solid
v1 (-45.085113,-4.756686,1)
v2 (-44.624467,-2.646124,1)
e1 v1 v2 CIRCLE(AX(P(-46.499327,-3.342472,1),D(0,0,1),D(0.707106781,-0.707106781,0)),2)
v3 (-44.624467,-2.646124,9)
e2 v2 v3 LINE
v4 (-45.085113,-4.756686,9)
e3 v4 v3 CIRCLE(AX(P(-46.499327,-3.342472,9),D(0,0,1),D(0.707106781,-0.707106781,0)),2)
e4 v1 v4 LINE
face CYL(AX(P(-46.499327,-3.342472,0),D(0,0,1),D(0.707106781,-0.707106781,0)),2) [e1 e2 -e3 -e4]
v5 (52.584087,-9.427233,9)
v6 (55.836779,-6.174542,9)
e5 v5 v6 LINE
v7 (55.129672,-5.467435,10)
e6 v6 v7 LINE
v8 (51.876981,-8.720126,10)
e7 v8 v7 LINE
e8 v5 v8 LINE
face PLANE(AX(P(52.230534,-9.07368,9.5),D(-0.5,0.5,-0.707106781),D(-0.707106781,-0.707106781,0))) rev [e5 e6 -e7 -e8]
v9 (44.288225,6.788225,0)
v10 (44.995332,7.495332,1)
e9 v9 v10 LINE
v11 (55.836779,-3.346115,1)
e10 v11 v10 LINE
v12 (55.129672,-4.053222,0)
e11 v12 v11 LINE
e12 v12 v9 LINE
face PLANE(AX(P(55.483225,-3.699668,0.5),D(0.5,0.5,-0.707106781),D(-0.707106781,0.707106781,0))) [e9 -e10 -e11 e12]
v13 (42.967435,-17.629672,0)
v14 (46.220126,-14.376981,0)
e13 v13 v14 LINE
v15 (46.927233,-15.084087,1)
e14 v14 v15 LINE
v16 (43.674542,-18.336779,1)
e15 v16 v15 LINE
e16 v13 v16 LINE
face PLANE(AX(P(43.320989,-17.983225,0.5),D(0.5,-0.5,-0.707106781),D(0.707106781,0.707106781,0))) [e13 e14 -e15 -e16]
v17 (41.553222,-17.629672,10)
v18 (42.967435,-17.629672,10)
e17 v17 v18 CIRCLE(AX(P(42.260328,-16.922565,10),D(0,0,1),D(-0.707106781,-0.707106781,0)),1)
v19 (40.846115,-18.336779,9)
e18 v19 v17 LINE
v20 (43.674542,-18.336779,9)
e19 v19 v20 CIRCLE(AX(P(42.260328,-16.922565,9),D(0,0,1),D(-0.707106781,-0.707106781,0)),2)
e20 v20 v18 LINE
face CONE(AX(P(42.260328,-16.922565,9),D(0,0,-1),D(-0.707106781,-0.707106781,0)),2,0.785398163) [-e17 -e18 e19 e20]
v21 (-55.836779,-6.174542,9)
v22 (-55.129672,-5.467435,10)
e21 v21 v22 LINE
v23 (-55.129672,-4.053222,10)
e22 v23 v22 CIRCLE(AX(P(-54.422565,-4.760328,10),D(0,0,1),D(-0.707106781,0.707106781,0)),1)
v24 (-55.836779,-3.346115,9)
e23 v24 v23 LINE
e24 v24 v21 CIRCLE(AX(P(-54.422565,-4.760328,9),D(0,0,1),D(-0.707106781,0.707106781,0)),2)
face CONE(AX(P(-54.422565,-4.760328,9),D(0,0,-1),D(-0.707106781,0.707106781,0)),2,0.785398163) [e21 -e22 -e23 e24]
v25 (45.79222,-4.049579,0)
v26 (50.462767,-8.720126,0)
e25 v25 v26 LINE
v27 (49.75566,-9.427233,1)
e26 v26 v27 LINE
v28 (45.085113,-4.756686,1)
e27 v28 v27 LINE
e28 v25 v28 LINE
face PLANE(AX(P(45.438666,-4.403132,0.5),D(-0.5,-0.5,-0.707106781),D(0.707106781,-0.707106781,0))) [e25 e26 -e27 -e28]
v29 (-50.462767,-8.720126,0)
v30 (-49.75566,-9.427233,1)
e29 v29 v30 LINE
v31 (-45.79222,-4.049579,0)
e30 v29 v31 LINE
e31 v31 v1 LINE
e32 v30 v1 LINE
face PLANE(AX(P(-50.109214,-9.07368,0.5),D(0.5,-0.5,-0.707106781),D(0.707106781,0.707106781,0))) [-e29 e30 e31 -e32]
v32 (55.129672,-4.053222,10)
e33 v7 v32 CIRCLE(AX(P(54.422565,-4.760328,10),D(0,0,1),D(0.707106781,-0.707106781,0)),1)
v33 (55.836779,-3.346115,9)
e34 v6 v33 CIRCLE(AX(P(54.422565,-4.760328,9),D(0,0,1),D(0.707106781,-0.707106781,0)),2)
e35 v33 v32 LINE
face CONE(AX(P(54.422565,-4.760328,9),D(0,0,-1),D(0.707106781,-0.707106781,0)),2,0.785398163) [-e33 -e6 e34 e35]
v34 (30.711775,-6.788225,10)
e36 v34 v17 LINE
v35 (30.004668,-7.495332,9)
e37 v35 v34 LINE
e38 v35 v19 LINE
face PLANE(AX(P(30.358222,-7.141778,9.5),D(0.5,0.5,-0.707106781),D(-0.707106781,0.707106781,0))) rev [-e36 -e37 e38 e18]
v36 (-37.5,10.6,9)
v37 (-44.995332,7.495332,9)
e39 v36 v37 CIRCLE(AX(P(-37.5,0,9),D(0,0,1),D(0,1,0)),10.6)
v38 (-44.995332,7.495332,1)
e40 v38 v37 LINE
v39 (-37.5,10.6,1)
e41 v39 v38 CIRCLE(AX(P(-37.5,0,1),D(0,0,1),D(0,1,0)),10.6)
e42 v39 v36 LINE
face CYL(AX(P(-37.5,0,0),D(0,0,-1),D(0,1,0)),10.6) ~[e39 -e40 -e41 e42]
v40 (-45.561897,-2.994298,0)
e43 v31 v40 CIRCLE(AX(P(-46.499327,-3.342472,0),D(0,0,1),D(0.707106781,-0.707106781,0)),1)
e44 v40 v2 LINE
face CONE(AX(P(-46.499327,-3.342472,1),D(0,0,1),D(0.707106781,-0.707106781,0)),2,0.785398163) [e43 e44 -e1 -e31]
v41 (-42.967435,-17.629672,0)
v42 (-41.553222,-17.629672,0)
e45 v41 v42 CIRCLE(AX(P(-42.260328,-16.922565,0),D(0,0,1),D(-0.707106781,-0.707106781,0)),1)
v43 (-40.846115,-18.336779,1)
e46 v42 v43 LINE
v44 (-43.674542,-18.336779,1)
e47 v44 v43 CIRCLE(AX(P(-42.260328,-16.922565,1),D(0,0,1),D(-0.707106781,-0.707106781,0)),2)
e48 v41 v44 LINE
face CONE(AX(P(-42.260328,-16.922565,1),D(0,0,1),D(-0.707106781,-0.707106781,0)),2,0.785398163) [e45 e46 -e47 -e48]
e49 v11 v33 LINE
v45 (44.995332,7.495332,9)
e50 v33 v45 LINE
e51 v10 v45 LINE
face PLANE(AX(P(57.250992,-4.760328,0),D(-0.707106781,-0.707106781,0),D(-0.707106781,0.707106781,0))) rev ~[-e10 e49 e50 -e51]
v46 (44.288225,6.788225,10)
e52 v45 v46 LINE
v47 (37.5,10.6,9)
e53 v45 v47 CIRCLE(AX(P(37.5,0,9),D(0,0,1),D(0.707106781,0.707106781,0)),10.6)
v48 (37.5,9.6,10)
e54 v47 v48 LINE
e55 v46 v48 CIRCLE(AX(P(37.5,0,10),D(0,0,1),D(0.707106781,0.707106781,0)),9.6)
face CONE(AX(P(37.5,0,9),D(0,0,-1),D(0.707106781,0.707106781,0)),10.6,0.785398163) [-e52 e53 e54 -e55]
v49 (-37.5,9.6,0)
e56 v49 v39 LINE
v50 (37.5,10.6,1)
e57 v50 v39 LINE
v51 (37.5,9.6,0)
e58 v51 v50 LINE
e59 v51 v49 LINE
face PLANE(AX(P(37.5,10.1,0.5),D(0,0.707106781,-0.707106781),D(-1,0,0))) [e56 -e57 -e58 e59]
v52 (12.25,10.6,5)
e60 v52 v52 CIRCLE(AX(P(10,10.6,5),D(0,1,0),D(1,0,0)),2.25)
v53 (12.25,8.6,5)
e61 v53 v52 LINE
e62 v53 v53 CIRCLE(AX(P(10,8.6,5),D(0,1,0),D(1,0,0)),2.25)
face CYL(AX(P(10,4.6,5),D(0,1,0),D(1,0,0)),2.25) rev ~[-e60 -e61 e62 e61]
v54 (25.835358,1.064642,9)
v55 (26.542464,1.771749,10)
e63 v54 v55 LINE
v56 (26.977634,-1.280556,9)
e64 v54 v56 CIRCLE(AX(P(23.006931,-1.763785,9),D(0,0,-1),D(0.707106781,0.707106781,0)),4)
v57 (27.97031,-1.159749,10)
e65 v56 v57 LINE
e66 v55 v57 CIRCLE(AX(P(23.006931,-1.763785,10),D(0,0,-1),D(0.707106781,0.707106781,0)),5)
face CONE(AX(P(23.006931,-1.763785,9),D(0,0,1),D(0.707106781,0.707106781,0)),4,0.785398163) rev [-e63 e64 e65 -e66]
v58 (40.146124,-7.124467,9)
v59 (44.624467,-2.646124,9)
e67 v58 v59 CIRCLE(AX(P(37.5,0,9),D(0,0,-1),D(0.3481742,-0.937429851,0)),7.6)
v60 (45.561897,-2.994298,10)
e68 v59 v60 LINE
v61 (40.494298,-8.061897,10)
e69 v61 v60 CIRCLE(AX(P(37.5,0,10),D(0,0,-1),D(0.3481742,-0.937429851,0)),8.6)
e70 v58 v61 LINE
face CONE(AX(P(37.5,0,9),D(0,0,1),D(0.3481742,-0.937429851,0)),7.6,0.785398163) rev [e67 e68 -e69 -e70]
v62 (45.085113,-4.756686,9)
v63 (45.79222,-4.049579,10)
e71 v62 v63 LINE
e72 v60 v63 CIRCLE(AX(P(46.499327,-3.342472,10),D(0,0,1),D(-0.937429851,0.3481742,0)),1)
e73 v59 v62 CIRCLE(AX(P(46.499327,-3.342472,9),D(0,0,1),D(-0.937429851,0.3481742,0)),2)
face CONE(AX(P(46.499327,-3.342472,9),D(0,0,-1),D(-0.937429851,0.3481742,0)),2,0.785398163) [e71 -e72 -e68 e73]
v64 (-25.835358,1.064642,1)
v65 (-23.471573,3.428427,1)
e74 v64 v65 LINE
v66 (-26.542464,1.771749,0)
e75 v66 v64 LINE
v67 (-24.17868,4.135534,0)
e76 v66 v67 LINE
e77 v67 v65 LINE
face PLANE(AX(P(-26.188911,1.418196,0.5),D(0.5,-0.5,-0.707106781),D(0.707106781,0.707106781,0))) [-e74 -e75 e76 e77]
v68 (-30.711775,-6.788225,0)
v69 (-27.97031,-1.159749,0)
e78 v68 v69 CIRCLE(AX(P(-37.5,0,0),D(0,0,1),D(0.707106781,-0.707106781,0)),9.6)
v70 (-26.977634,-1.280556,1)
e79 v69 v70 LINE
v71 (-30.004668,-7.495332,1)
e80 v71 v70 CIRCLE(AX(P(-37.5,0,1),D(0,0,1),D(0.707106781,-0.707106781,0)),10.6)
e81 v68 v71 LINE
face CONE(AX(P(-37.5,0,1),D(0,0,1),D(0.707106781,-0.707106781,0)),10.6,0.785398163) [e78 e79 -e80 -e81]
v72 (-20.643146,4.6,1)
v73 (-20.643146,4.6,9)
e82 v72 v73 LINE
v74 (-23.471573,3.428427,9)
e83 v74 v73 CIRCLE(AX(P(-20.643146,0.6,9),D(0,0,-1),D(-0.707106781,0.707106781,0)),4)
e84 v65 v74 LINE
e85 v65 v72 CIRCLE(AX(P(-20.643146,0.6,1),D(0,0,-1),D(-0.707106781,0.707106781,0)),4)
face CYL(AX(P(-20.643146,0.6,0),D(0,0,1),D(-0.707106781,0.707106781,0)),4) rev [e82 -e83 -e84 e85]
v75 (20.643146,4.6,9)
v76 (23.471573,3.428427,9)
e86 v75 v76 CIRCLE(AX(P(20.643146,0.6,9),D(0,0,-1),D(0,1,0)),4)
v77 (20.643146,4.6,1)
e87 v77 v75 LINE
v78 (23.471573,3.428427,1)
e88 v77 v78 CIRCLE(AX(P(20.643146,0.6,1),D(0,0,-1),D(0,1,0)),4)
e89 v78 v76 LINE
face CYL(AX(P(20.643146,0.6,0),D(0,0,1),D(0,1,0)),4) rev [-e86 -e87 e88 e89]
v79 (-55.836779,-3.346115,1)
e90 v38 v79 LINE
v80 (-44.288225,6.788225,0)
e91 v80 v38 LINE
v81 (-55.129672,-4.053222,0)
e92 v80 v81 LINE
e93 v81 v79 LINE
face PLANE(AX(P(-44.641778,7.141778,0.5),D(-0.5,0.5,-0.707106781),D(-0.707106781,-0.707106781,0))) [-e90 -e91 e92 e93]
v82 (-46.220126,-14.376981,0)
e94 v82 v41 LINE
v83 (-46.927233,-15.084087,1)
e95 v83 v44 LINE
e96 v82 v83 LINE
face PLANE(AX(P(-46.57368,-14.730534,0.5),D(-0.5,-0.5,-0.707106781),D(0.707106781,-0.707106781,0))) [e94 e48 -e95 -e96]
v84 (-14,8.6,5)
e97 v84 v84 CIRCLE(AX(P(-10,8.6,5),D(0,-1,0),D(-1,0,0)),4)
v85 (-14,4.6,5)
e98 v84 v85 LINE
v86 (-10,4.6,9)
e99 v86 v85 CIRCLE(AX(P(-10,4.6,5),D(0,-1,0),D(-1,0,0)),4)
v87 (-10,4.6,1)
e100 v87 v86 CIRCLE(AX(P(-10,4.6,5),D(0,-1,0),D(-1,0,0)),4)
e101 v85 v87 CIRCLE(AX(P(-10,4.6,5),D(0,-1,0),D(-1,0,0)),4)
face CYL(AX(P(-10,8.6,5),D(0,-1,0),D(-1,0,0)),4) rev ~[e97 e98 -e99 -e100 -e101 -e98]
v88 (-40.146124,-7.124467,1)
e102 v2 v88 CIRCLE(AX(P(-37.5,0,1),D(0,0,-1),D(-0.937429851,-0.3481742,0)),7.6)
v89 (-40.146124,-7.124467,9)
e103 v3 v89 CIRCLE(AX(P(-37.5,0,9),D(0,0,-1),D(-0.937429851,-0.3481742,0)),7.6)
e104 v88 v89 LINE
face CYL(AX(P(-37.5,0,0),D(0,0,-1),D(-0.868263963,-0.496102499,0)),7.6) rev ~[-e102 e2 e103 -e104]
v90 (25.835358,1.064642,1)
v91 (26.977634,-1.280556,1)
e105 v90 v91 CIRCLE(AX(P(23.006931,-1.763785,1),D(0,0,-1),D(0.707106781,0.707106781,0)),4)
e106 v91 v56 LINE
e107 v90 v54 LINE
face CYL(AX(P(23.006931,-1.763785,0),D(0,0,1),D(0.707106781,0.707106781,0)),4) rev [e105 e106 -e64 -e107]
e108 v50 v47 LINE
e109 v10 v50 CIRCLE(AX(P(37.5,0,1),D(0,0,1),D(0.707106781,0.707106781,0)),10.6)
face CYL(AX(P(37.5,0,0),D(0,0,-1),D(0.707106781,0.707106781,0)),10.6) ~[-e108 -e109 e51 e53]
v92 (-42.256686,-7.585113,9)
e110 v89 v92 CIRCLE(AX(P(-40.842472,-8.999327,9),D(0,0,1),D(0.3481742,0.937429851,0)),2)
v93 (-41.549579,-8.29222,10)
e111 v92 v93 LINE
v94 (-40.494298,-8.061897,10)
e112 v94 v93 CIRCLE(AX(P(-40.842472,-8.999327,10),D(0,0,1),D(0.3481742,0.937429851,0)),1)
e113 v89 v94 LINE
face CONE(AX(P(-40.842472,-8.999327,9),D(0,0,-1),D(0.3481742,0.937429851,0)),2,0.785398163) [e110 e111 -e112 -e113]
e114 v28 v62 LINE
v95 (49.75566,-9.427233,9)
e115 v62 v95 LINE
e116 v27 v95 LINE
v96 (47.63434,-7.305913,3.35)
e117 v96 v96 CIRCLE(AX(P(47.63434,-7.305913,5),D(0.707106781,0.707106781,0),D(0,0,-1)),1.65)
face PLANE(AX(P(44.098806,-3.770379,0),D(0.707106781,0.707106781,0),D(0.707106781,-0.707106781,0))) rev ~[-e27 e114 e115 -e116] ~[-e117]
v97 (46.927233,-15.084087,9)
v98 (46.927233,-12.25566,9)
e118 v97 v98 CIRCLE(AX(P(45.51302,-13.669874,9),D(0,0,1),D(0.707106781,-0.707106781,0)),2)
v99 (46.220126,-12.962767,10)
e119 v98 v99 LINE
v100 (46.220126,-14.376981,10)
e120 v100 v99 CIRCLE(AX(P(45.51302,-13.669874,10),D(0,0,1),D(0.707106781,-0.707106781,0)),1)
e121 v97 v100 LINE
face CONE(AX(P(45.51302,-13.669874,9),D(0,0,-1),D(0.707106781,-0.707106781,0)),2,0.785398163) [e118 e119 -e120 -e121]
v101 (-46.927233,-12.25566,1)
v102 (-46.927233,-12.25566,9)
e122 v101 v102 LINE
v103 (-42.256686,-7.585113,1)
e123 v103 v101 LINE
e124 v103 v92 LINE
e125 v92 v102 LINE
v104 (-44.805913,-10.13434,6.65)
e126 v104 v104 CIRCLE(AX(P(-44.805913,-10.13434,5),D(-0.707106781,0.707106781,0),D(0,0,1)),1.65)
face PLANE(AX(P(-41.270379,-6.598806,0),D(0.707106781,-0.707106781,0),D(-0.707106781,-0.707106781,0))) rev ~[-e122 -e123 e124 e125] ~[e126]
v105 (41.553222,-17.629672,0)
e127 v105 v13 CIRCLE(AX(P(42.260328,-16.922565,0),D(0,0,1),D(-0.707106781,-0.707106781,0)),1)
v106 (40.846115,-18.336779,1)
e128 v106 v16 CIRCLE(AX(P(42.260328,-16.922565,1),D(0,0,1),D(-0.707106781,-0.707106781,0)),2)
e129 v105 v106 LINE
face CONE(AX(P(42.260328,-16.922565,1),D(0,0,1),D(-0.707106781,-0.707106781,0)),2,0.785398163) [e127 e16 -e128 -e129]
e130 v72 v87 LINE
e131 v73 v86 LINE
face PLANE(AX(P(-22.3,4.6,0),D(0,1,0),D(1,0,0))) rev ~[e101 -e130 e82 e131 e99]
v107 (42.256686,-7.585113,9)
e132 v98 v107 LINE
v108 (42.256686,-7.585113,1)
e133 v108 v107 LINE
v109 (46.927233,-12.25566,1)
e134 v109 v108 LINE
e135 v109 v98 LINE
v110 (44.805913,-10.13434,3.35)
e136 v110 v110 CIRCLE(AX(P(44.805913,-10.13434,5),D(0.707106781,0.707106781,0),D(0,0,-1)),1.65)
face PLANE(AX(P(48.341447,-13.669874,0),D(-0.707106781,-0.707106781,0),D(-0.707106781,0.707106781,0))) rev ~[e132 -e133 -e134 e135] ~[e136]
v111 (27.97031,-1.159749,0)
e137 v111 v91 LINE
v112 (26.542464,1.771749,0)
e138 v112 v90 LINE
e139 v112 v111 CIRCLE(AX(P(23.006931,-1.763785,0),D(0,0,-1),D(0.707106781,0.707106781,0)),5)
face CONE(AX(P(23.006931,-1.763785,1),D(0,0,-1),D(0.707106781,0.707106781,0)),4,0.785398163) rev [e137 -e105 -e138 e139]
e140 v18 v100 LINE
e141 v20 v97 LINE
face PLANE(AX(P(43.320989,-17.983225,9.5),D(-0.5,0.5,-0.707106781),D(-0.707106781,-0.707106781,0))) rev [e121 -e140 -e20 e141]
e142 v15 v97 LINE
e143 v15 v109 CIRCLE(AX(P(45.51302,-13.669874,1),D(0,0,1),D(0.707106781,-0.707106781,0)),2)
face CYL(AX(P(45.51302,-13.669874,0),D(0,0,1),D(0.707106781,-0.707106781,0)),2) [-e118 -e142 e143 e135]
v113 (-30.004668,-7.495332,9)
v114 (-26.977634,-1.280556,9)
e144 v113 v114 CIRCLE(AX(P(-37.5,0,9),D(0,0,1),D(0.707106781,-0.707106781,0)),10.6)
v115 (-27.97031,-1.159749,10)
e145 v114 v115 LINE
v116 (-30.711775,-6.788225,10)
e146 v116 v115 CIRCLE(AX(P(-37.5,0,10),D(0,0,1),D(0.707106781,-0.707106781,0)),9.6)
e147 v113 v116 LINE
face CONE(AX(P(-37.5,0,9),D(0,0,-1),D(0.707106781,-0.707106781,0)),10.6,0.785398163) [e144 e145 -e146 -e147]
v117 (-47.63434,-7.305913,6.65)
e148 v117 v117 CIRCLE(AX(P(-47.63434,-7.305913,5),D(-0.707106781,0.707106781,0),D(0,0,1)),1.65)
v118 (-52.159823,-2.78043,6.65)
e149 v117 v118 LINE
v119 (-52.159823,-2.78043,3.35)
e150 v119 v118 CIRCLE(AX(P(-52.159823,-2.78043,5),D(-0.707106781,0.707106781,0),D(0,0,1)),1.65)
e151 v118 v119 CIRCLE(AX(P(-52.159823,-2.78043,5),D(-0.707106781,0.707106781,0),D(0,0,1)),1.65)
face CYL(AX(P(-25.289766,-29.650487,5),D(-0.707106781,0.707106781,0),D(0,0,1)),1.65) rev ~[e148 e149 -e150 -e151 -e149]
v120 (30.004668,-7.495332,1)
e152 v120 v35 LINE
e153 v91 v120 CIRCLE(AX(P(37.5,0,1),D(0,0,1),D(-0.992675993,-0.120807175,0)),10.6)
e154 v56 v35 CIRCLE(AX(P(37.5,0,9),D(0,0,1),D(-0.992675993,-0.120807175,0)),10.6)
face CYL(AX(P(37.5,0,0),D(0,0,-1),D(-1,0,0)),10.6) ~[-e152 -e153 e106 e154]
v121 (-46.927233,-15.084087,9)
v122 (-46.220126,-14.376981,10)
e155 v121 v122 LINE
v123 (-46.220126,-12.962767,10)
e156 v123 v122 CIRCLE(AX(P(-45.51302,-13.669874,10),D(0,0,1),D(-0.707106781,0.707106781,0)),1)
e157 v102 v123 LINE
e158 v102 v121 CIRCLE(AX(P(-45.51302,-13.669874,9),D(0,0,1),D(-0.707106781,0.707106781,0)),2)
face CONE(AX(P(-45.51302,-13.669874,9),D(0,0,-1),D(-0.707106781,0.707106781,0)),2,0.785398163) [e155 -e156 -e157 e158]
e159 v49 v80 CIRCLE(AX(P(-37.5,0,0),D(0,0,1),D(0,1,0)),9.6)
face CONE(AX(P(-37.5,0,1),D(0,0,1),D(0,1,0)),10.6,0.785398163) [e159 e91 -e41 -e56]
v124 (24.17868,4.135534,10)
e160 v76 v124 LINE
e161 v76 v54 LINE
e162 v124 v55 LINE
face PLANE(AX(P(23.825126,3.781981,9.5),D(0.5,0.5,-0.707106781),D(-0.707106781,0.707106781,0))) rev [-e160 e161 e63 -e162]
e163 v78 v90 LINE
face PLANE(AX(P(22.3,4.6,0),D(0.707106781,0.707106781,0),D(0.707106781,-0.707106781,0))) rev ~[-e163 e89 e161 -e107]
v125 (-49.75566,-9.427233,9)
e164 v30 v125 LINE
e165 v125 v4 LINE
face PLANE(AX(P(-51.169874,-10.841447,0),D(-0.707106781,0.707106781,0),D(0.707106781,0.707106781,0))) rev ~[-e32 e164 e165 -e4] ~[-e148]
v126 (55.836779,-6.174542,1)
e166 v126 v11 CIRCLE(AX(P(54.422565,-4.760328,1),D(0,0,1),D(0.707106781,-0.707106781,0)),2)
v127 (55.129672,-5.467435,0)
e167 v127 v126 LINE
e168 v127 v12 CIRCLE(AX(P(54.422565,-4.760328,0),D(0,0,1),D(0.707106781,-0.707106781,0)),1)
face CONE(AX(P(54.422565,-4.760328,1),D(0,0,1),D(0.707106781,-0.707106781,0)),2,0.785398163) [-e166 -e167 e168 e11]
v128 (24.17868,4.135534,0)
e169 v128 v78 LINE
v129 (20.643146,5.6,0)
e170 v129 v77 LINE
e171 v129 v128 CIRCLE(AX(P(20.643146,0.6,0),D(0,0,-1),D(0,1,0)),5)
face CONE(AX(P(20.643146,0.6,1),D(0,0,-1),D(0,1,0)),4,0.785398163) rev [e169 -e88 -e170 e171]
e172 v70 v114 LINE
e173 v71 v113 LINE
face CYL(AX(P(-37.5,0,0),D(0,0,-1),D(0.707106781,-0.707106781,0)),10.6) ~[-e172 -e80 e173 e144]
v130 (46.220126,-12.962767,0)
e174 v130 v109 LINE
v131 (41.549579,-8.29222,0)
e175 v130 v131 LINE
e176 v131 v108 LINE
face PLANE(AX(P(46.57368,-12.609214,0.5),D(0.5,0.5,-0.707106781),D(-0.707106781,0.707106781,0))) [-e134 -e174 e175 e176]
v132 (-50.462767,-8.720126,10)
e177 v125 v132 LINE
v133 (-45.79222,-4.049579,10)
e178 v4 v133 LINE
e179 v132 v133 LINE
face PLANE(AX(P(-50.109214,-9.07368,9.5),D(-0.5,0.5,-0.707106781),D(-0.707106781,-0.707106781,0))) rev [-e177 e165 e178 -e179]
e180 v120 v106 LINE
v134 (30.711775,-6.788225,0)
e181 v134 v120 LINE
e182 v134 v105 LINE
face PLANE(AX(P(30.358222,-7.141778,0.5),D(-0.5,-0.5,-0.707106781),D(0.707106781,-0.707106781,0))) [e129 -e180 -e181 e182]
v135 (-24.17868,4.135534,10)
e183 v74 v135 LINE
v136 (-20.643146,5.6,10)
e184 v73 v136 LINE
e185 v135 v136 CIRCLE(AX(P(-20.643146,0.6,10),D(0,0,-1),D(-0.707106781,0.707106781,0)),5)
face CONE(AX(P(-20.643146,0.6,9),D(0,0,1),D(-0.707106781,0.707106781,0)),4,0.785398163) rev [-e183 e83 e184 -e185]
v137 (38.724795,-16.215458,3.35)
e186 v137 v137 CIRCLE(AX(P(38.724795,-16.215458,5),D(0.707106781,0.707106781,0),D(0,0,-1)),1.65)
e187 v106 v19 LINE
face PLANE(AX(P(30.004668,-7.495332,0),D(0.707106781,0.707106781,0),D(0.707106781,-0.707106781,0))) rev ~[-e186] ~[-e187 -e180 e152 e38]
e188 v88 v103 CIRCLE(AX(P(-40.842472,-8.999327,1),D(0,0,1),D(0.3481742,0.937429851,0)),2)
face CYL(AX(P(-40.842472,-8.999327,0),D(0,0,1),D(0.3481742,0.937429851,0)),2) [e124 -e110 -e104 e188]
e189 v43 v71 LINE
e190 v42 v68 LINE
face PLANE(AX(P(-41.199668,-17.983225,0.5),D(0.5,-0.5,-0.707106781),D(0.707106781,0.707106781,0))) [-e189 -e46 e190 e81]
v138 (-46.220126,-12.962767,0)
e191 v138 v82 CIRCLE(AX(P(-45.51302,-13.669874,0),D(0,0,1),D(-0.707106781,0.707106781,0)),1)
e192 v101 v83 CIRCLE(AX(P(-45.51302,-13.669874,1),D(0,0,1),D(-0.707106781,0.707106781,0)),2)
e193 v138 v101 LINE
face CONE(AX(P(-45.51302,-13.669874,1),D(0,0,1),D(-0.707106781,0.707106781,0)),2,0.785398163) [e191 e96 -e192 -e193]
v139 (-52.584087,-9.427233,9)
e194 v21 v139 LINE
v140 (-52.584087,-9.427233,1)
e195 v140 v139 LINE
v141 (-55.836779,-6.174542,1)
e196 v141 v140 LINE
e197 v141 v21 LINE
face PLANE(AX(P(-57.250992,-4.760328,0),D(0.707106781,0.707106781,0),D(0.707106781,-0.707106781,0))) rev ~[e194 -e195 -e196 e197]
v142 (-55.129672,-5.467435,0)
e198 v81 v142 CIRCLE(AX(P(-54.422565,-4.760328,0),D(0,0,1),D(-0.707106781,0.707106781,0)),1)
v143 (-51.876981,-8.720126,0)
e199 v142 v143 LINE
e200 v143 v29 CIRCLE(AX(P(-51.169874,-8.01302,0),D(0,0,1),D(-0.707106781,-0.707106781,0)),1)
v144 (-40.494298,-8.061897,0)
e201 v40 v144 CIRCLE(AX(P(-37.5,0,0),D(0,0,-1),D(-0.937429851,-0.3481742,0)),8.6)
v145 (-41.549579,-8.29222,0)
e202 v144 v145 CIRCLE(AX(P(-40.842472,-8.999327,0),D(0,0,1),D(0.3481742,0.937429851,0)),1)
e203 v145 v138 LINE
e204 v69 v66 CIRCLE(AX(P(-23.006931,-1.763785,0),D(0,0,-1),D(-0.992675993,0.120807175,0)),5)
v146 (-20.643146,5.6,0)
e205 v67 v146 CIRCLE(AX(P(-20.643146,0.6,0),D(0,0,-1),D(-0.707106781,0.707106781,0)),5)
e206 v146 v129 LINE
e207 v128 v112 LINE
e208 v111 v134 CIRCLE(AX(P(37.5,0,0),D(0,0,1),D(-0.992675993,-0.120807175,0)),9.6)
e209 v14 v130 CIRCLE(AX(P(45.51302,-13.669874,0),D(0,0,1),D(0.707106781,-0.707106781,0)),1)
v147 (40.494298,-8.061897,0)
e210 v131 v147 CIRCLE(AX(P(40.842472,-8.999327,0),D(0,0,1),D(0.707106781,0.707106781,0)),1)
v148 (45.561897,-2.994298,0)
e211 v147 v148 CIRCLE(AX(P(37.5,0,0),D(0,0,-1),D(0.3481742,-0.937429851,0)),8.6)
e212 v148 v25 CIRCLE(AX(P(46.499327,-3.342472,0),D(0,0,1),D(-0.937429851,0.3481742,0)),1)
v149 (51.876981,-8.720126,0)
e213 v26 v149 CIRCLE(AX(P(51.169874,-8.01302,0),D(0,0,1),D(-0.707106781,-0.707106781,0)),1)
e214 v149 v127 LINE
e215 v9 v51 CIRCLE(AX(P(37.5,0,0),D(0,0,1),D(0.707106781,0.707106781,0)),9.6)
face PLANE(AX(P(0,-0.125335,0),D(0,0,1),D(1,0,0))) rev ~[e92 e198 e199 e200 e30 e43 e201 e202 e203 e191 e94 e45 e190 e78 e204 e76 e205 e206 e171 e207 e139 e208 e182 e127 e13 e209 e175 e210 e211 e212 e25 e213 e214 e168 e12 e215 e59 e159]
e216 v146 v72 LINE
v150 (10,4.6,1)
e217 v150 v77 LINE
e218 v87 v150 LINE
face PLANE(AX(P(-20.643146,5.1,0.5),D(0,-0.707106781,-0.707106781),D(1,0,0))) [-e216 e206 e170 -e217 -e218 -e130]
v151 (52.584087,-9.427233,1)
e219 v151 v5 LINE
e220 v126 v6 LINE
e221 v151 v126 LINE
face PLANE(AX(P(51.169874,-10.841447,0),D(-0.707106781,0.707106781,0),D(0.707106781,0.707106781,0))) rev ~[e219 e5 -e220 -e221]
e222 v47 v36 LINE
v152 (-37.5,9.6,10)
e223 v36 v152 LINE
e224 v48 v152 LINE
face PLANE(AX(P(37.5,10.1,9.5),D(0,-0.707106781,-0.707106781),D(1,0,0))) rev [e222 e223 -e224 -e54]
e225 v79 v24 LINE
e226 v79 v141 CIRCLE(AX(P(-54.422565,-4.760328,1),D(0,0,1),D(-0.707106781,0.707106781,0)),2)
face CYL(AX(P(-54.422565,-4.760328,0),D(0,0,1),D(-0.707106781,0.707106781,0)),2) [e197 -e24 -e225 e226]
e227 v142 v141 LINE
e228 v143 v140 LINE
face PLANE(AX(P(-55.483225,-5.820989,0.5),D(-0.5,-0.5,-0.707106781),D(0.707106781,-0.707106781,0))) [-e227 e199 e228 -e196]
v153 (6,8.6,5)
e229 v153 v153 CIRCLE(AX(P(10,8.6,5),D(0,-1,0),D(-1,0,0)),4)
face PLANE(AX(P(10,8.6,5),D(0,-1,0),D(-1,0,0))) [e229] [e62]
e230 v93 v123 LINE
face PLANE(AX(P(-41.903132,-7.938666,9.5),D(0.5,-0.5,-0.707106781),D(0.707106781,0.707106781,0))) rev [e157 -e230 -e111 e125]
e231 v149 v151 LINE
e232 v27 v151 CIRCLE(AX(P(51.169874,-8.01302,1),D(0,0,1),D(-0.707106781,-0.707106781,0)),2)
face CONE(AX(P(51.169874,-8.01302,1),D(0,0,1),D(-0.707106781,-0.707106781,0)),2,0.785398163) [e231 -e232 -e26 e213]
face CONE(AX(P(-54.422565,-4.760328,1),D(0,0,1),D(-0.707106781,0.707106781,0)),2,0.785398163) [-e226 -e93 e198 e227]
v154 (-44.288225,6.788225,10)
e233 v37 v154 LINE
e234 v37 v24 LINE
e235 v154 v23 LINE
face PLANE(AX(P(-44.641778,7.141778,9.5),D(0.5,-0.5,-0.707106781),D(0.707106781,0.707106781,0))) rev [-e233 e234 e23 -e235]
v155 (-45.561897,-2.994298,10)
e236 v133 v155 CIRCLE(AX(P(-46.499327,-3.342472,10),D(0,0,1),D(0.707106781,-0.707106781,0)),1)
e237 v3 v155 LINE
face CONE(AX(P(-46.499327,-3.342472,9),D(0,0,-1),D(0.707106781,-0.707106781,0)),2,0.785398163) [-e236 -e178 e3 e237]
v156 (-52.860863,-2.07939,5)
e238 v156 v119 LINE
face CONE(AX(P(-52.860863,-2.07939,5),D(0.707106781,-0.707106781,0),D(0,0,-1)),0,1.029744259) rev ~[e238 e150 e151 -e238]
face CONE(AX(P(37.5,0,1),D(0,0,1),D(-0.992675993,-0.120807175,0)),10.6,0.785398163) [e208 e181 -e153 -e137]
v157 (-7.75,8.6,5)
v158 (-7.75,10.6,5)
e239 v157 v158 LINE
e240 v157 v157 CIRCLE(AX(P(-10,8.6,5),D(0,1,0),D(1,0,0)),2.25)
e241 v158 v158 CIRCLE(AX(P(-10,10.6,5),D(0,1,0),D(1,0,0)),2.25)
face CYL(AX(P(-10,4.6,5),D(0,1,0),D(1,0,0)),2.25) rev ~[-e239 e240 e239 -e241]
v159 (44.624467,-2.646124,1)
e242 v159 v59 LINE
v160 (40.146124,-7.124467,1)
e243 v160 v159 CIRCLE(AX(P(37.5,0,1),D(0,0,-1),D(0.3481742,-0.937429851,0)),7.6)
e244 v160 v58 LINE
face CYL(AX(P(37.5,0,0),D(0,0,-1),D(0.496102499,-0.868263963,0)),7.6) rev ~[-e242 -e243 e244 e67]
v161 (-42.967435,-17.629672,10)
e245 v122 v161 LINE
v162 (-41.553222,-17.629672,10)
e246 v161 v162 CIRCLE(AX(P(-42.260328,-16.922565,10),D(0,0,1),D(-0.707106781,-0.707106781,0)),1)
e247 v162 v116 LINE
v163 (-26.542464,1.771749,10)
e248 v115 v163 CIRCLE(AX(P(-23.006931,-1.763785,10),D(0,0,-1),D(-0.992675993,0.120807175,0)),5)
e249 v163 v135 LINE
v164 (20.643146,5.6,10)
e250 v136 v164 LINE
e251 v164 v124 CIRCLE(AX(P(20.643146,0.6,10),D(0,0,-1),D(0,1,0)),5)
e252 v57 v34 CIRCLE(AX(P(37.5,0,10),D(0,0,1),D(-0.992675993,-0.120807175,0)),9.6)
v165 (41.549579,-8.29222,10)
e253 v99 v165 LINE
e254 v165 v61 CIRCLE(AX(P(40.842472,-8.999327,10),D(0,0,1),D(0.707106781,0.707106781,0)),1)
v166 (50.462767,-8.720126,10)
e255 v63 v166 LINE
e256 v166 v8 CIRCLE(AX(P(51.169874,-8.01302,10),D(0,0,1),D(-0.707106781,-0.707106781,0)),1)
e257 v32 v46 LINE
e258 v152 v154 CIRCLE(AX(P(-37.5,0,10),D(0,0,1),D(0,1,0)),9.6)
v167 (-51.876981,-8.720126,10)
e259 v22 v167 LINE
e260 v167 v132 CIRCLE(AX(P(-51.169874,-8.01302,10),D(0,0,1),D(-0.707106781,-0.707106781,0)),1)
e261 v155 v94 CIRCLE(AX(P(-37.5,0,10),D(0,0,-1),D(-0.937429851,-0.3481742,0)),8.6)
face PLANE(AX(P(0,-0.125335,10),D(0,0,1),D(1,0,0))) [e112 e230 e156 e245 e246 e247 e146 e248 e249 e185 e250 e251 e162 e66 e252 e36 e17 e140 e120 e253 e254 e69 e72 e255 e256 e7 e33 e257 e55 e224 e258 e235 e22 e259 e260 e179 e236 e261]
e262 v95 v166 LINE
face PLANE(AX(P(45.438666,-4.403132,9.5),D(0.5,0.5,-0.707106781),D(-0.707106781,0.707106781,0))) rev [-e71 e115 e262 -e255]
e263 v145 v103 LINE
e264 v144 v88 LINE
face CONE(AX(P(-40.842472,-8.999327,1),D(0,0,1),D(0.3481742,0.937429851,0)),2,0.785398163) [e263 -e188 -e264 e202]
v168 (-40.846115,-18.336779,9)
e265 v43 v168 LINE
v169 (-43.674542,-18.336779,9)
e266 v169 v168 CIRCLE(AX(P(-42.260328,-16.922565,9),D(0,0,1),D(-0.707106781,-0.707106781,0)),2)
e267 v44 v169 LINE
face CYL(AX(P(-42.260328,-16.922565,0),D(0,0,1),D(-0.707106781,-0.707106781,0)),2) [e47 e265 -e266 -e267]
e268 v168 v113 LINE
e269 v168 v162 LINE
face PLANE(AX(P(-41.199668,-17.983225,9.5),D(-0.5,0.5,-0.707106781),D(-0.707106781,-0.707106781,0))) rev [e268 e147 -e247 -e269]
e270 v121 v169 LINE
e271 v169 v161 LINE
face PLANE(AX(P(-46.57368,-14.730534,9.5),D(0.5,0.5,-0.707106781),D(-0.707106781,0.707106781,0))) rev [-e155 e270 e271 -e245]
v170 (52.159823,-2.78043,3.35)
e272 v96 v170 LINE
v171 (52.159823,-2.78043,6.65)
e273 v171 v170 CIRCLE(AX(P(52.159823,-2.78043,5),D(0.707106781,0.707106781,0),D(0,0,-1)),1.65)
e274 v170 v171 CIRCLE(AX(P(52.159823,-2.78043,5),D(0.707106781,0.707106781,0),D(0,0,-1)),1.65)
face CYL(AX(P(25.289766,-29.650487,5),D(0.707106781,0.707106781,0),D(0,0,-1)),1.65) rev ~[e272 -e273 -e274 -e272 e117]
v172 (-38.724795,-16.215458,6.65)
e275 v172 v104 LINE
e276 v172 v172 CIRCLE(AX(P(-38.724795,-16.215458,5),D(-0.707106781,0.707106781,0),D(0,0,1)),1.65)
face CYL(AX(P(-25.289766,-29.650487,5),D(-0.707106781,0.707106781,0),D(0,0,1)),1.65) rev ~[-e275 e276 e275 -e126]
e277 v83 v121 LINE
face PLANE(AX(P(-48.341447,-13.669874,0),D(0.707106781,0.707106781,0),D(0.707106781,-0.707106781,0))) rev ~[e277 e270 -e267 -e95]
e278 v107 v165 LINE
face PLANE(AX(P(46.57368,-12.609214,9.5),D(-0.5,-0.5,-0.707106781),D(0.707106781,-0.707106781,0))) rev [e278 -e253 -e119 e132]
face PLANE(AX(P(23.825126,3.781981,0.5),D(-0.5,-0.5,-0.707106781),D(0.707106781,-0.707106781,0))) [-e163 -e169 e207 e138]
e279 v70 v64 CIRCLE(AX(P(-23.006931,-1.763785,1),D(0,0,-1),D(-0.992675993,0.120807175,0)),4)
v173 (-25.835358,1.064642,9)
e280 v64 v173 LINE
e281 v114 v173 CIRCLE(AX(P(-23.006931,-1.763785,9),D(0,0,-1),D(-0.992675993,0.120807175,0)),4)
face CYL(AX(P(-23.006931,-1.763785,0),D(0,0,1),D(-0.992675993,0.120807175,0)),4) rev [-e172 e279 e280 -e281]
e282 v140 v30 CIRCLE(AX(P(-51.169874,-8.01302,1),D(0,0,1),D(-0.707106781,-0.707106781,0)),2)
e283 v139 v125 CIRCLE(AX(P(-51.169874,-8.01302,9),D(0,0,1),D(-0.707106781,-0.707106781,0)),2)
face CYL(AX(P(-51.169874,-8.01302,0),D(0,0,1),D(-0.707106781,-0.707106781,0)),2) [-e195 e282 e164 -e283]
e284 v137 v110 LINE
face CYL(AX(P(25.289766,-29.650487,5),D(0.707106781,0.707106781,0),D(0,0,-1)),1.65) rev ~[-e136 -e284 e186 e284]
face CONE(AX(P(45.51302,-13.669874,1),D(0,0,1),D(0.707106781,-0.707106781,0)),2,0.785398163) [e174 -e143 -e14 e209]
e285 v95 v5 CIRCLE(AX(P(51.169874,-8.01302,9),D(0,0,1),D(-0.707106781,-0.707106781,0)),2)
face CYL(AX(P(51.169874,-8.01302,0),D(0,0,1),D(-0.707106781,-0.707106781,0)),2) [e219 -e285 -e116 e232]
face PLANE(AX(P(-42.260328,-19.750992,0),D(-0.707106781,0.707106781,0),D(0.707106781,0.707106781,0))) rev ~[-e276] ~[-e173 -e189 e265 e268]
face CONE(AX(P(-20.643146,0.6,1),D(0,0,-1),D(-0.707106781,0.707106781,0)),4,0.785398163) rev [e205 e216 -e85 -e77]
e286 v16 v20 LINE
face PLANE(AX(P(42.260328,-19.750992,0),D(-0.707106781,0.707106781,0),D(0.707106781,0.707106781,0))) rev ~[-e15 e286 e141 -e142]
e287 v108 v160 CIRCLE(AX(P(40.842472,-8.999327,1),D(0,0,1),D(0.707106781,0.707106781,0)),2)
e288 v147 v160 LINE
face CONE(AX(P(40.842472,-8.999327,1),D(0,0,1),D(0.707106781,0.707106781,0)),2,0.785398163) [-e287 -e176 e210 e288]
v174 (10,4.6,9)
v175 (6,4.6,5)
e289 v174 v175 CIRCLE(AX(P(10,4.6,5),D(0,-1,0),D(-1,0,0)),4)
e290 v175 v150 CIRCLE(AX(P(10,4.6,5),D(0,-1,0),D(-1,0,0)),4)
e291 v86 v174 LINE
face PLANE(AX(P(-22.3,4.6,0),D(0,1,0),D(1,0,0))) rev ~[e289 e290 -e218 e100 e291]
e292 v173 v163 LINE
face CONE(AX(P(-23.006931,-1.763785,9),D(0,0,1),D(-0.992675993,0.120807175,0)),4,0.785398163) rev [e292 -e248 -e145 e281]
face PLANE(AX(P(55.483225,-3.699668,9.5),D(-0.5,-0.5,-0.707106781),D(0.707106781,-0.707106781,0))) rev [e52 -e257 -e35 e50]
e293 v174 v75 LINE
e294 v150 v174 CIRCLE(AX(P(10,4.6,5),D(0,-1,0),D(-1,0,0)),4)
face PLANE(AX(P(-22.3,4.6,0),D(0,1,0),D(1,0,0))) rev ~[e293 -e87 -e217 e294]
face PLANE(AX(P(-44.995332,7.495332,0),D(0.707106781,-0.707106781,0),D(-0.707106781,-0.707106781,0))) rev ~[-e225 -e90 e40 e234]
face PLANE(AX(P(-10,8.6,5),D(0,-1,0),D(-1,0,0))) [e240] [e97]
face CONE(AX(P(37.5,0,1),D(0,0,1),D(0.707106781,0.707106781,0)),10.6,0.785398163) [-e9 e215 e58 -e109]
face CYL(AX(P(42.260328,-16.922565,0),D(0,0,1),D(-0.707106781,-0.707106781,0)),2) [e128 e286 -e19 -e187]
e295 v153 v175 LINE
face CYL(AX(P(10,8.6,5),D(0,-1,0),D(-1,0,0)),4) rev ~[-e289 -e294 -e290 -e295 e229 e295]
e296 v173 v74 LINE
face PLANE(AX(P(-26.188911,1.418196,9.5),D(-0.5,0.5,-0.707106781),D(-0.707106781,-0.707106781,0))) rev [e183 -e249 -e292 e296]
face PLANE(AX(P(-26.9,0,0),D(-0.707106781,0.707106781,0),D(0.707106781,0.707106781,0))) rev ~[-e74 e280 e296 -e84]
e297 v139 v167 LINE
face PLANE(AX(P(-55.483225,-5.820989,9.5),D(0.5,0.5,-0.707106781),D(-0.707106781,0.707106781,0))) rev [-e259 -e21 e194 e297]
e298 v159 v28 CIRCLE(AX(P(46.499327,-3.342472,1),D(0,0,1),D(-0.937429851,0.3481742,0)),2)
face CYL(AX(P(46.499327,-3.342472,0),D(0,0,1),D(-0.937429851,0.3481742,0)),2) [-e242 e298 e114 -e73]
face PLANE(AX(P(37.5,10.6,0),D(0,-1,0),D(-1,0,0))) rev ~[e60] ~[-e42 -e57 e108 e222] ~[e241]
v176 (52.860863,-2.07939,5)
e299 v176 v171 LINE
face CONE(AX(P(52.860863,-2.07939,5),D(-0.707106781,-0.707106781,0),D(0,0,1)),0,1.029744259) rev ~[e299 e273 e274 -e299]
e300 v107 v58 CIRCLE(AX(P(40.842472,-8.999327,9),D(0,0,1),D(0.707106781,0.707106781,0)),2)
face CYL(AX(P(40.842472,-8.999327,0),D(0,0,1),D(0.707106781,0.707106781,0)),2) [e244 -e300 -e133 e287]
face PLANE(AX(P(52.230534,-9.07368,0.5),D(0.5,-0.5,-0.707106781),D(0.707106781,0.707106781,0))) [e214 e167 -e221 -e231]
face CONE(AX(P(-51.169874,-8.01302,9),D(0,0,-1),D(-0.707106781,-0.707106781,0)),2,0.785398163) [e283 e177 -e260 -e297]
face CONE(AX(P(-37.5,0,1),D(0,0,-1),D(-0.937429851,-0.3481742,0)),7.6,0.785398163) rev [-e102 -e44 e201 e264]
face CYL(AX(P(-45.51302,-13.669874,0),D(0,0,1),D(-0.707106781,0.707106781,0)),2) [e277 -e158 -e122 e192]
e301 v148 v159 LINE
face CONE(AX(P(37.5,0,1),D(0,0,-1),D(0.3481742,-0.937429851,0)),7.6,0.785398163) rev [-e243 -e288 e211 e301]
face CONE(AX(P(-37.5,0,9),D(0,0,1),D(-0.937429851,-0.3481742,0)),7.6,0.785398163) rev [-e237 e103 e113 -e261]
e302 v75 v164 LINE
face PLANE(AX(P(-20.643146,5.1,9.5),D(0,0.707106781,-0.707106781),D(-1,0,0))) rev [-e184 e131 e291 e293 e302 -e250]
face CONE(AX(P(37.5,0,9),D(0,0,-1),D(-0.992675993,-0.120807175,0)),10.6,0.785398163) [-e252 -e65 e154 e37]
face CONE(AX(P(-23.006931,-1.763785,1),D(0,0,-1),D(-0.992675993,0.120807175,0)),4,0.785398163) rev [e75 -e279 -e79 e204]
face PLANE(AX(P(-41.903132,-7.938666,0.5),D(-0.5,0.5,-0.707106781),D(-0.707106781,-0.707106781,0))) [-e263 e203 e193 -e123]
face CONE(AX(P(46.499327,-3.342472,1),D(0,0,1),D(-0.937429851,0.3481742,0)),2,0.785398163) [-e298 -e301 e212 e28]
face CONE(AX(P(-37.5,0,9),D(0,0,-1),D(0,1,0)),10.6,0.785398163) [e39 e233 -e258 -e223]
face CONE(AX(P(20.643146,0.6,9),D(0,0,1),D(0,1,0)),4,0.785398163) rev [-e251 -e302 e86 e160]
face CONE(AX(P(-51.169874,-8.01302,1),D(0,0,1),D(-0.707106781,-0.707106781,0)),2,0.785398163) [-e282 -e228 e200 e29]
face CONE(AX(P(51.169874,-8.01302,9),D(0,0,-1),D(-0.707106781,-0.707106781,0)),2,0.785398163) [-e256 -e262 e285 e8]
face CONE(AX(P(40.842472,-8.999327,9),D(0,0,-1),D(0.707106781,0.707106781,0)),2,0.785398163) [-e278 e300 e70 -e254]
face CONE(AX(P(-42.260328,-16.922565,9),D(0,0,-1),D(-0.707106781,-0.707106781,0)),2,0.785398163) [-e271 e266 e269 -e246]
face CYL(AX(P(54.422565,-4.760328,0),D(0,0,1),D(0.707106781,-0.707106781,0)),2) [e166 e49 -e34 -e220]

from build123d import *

# Parameters (mm, degrees)
EXTRUDE_1_DEPTH             = 10
M4X0_71_D                   = 3.3
M4X0_71_DEPTH               = 19
M4X0_71_TIP                 = 0.991420021
M4X0_72_D                   = 3.3
M4X0_72_DEPTH               = 19
M4X0_72_TIP                 = 0.991420021
FILLET_1_R                  = 2
FILLET_2_R                  = 4
CHAMFER_1_SIZE              = 1
HOLE_WIZARD_M41_D           = 4.5
HOLE_WIZARD_M41_CBORE_D     = 8
HOLE_WIZARD_M41_CBORE_DEPTH = 4


with BuildPart() as part:
    # Эскиз1 → Бобышка-Вытянуть1 (new body)
    with BuildSketch(Plane.XY):
        with BuildLine():
            Line((-44.995331881, 7.495331881), (-57.250992251, -4.76032849))
            Line((-57.250992251, -4.76032849), (-51.169873933, -10.841446808))
            Line((-51.169873933, -10.841446808), (-44.098806121, -3.770378996))
            ThreePointArc((-44.098806121, -3.770378996), (-32.125988463, 5.374011537), (-41.270378996, -6.598806121))
            Line((-41.270378996, -6.598806121), (-48.341446808, -13.669873933))
            Line((-48.341446808, -13.669873933), (-42.26032849, -19.750992251))
            Line((-42.26032849, -19.750992251), (-30.004668119, -7.495331881))
            ThreePointArc((-30.004668119, -7.495331881), (-27.706876955, -4.056444383), (-26.9, 0))
            Line((-26.9, 0), (-22.3, 4.6))
            Line((-22.3, 4.6), (22.3, 4.6))
            Line((22.3, 4.6), (26.9, 0))
            ThreePointArc((26.9, 0), (27.706876955, -4.056444383), (30.004668119, -7.495331881))
            Line((30.004668119, -7.495331881), (42.26032849, -19.750992251))
            Line((42.26032849, -19.750992251), (48.341446808, -13.669873933))
            Line((48.341446808, -13.669873933), (41.270378996, -6.598806121))
            ThreePointArc((41.270378996, -6.598806121), (32.125988463, 5.374011537), (44.098806121, -3.770378996))
            Line((44.098806121, -3.770378996), (51.169873933, -10.841446808))
            Line((51.169873933, -10.841446808), (57.250992251, -4.76032849))
            Line((57.250992251, -4.76032849), (44.995331881, 7.495331881))
            ThreePointArc((44.995331881, 7.495331881), (41.556444383, 9.793123045), (37.5, 10.6))
            Line((37.5, 10.6), (-37.5, 10.6))
            ThreePointArc((-37.5, 10.6), (-41.556444383, 9.793123045), (-44.995331881, 7.495331881))
        make_face()
    extrude(amount=EXTRUDE_1_DEPTH)

    # Отверстие обработанное метчиком M4x0.71
    with Locations(Plane(origin=(11.254668119, 11.254668119, 0), x_dir=(0, 0, 1), z_dir=(-0.707106781, -0.707106781, 0))):
        with Locations((5, -38.848625406)):
            Hole(M4X0_71_D / 2, depth=M4X0_71_DEPTH)
            with Locations((0, 0, -(M4X0_71_DEPTH + M4X0_71_TIP / 2))):  # 118° drill point
                Cone(0, M4X0_71_D / 2, M4X0_71_TIP, mode=Mode.SUBTRACT)

    # Отверстие обработанное метчиком M4x0.72
    with Locations(Plane(origin=(-11.254668119, 11.254668119, 0), x_dir=(0, 0, -1), z_dir=(0.707106781, -0.707106781, 0))):
        with Locations((-5, -38.848625406)):
            Hole(M4X0_72_D / 2, depth=M4X0_72_DEPTH)
            with Locations((0, 0, -(M4X0_72_DEPTH + M4X0_72_TIP / 2))):  # 118° drill point
                Cone(0, M4X0_72_D / 2, M4X0_72_TIP, mode=Mode.SUBTRACT)

    # Скругление1
    fillet_1_edges = [part.edges().sort_by_distance(p)[0] for p in [
        (-42.26032849, -19.750992251, 5),
        (-48.341446808, -13.669873933, 5),
        (-41.270378996, -6.598806121, 5),
        (-44.098806121, -3.770378996, 5),
        (-51.169873933, -10.841446808, 5),
        (-57.250992251, -4.76032849, 5),
        (57.250992251, -4.76032849, 5),
        (51.169873933, -10.841446808, 5),
        (44.098806121, -3.770378996, 5),
        (41.270378996, -6.598806121, 5),
        (48.341446808, -13.669873933, 5),
        (42.26032849, -19.750992251, 5),
    ]]
    fillet(fillet_1_edges, radius=FILLET_1_R)

    # Скругление2
    fillet_2_edges = [part.edges().sort_by_distance(p)[0] for p in [
        (26.9, 0, 5),
        (22.3, 4.6, 5),
        (-22.3, 4.6, 5),
        (-26.9, 0, 5),
    ]]
    fillet(fillet_2_edges, radius=FILLET_2_R)

    # Фаска1
    chamfer_1_edges = [part.edges().sort_by_distance(p)[0] for p in [
        (-41.268947779, -7.045325886, 10),
        (-44.545325886, -3.768947779, 10),
        (41.268947779, -7.045325886, 10),
        (44.545325886, -3.768947779, 10),
        (47.513019683, -13.669873933, 10),
        (42.26032849, -18.922565126, 10),
        (51.169873933, -10.013019683, 10),
        (56.422565126, -4.76032849, 10),
        (-24.653465253, 2.246534747, 0),
        (-24.653465253, 2.246534747, 10),
        (0, 4.6, 0),
        (0, 4.6, 10),
        (27.970298296, -4.641636073, 0),
        (27.970298296, -4.641636073, 10),
        (24.653465253, 2.246534747, 0),
        (24.653465253, 2.246534747, 10),
        (-26.603044357, -0.012223974, 0),
        (-26.603044357, -0.012223974, 10),
        (-22.17387948, 4.29551813, 0),
        (-22.17387948, 4.29551813, 10),
        (26.603044357, -0.012223974, 0),
        (26.603044357, -0.012223974, 10),
        (22.17387948, 4.29551813, 0),
        (22.17387948, 4.29551813, 10),
        (35.425391524, -12.916055285, 10),
        (-50.416055285, 2.074608476, 0),
        (-41.556444383, 9.793123045, 0),
        (0, 10.6, 0),
        (41.556444383, 9.793123045, 0),
        (35.425391524, -12.916055285, 0),
        (-27.970298296, -4.641636073, 0),
        (-27.970298296, -4.641636073, 10),
        (41.556444383, 9.793123045, 10),
        (0, 10.6, 10),
        (-41.556444383, 9.793123045, 10),
        (-50.416055285, 2.074608476, 10),
        (50.416055285, 2.074608476, 0),
        (50.416055285, 2.074608476, 10),
        (-35.425391524, -12.916055285, 0),
        (-45.300887649, -16.710433092, 0),
        (-44.591959566, -9.920386691, 0),
        (-32.125988463, 5.374011537, 0),
        (-47.420386691, -7.091959566, 0),
        (-54.210433092, -7.800887649, 0),
        (54.210433092, -7.800887649, 0),
        (47.420386691, -7.091959566, 0),
        (32.125988463, 5.374011537, 0),
        (44.591959566, -9.920386691, 0),
        (45.300887649, -16.710433092, 0),
        (-42.26032849, -18.922565126, 0),
        (-47.513019683, -13.669873933, 0),
        (-51.169873933, -10.013019683, 0),
        (-56.422565126, -4.76032849, 0),
        (-41.268947779, -7.045325886, 0),
        (-44.545325886, -3.768947779, 0),
        (41.268947779, -7.045325886, 0),
        (44.545325886, -3.768947779, 0),
        (47.513019683, -13.669873933, 0),
        (42.26032849, -18.922565126, 0),
        (51.169873933, -10.013019683, 0),
        (56.422565126, -4.76032849, 0),
        (54.210433092, -7.800887649, 10),
        (45.300887649, -16.710433092, 10),
        (44.591959566, -9.920386691, 10),
        (32.125988463, 5.374011537, 10),
        (47.420386691, -7.091959566, 10),
        (-54.210433092, -7.800887649, 10),
        (-47.420386691, -7.091959566, 10),
        (-32.125988463, 5.374011537, 10),
        (-44.591959566, -9.920386691, 10),
        (-45.300887649, -16.710433092, 10),
        (-35.425391524, -12.916055285, 10),
        (-42.26032849, -18.922565126, 10),
        (-47.513019683, -13.669873933, 10),
        (-51.169873933, -10.013019683, 10),
        (-56.422565126, -4.76032849, 10),
    ]]
    chamfer(chamfer_1_edges, length=CHAMFER_1_SIZE)

    # Цековка для винта с внутренним шестигранником M41 (through all)
    with Locations(Plane(origin=(0, 4.6, 0), x_dir=(-1, 0, 0), z_dir=(0, -1, 0))):
        with Locations((10, -5), (-10, -5)):
            CounterBoreHole(HOLE_WIZARD_M41_D / 2, HOLE_WIZARD_M41_CBORE_D / 2, HOLE_WIZARD_M41_CBORE_DEPTH)


solid = part.part
